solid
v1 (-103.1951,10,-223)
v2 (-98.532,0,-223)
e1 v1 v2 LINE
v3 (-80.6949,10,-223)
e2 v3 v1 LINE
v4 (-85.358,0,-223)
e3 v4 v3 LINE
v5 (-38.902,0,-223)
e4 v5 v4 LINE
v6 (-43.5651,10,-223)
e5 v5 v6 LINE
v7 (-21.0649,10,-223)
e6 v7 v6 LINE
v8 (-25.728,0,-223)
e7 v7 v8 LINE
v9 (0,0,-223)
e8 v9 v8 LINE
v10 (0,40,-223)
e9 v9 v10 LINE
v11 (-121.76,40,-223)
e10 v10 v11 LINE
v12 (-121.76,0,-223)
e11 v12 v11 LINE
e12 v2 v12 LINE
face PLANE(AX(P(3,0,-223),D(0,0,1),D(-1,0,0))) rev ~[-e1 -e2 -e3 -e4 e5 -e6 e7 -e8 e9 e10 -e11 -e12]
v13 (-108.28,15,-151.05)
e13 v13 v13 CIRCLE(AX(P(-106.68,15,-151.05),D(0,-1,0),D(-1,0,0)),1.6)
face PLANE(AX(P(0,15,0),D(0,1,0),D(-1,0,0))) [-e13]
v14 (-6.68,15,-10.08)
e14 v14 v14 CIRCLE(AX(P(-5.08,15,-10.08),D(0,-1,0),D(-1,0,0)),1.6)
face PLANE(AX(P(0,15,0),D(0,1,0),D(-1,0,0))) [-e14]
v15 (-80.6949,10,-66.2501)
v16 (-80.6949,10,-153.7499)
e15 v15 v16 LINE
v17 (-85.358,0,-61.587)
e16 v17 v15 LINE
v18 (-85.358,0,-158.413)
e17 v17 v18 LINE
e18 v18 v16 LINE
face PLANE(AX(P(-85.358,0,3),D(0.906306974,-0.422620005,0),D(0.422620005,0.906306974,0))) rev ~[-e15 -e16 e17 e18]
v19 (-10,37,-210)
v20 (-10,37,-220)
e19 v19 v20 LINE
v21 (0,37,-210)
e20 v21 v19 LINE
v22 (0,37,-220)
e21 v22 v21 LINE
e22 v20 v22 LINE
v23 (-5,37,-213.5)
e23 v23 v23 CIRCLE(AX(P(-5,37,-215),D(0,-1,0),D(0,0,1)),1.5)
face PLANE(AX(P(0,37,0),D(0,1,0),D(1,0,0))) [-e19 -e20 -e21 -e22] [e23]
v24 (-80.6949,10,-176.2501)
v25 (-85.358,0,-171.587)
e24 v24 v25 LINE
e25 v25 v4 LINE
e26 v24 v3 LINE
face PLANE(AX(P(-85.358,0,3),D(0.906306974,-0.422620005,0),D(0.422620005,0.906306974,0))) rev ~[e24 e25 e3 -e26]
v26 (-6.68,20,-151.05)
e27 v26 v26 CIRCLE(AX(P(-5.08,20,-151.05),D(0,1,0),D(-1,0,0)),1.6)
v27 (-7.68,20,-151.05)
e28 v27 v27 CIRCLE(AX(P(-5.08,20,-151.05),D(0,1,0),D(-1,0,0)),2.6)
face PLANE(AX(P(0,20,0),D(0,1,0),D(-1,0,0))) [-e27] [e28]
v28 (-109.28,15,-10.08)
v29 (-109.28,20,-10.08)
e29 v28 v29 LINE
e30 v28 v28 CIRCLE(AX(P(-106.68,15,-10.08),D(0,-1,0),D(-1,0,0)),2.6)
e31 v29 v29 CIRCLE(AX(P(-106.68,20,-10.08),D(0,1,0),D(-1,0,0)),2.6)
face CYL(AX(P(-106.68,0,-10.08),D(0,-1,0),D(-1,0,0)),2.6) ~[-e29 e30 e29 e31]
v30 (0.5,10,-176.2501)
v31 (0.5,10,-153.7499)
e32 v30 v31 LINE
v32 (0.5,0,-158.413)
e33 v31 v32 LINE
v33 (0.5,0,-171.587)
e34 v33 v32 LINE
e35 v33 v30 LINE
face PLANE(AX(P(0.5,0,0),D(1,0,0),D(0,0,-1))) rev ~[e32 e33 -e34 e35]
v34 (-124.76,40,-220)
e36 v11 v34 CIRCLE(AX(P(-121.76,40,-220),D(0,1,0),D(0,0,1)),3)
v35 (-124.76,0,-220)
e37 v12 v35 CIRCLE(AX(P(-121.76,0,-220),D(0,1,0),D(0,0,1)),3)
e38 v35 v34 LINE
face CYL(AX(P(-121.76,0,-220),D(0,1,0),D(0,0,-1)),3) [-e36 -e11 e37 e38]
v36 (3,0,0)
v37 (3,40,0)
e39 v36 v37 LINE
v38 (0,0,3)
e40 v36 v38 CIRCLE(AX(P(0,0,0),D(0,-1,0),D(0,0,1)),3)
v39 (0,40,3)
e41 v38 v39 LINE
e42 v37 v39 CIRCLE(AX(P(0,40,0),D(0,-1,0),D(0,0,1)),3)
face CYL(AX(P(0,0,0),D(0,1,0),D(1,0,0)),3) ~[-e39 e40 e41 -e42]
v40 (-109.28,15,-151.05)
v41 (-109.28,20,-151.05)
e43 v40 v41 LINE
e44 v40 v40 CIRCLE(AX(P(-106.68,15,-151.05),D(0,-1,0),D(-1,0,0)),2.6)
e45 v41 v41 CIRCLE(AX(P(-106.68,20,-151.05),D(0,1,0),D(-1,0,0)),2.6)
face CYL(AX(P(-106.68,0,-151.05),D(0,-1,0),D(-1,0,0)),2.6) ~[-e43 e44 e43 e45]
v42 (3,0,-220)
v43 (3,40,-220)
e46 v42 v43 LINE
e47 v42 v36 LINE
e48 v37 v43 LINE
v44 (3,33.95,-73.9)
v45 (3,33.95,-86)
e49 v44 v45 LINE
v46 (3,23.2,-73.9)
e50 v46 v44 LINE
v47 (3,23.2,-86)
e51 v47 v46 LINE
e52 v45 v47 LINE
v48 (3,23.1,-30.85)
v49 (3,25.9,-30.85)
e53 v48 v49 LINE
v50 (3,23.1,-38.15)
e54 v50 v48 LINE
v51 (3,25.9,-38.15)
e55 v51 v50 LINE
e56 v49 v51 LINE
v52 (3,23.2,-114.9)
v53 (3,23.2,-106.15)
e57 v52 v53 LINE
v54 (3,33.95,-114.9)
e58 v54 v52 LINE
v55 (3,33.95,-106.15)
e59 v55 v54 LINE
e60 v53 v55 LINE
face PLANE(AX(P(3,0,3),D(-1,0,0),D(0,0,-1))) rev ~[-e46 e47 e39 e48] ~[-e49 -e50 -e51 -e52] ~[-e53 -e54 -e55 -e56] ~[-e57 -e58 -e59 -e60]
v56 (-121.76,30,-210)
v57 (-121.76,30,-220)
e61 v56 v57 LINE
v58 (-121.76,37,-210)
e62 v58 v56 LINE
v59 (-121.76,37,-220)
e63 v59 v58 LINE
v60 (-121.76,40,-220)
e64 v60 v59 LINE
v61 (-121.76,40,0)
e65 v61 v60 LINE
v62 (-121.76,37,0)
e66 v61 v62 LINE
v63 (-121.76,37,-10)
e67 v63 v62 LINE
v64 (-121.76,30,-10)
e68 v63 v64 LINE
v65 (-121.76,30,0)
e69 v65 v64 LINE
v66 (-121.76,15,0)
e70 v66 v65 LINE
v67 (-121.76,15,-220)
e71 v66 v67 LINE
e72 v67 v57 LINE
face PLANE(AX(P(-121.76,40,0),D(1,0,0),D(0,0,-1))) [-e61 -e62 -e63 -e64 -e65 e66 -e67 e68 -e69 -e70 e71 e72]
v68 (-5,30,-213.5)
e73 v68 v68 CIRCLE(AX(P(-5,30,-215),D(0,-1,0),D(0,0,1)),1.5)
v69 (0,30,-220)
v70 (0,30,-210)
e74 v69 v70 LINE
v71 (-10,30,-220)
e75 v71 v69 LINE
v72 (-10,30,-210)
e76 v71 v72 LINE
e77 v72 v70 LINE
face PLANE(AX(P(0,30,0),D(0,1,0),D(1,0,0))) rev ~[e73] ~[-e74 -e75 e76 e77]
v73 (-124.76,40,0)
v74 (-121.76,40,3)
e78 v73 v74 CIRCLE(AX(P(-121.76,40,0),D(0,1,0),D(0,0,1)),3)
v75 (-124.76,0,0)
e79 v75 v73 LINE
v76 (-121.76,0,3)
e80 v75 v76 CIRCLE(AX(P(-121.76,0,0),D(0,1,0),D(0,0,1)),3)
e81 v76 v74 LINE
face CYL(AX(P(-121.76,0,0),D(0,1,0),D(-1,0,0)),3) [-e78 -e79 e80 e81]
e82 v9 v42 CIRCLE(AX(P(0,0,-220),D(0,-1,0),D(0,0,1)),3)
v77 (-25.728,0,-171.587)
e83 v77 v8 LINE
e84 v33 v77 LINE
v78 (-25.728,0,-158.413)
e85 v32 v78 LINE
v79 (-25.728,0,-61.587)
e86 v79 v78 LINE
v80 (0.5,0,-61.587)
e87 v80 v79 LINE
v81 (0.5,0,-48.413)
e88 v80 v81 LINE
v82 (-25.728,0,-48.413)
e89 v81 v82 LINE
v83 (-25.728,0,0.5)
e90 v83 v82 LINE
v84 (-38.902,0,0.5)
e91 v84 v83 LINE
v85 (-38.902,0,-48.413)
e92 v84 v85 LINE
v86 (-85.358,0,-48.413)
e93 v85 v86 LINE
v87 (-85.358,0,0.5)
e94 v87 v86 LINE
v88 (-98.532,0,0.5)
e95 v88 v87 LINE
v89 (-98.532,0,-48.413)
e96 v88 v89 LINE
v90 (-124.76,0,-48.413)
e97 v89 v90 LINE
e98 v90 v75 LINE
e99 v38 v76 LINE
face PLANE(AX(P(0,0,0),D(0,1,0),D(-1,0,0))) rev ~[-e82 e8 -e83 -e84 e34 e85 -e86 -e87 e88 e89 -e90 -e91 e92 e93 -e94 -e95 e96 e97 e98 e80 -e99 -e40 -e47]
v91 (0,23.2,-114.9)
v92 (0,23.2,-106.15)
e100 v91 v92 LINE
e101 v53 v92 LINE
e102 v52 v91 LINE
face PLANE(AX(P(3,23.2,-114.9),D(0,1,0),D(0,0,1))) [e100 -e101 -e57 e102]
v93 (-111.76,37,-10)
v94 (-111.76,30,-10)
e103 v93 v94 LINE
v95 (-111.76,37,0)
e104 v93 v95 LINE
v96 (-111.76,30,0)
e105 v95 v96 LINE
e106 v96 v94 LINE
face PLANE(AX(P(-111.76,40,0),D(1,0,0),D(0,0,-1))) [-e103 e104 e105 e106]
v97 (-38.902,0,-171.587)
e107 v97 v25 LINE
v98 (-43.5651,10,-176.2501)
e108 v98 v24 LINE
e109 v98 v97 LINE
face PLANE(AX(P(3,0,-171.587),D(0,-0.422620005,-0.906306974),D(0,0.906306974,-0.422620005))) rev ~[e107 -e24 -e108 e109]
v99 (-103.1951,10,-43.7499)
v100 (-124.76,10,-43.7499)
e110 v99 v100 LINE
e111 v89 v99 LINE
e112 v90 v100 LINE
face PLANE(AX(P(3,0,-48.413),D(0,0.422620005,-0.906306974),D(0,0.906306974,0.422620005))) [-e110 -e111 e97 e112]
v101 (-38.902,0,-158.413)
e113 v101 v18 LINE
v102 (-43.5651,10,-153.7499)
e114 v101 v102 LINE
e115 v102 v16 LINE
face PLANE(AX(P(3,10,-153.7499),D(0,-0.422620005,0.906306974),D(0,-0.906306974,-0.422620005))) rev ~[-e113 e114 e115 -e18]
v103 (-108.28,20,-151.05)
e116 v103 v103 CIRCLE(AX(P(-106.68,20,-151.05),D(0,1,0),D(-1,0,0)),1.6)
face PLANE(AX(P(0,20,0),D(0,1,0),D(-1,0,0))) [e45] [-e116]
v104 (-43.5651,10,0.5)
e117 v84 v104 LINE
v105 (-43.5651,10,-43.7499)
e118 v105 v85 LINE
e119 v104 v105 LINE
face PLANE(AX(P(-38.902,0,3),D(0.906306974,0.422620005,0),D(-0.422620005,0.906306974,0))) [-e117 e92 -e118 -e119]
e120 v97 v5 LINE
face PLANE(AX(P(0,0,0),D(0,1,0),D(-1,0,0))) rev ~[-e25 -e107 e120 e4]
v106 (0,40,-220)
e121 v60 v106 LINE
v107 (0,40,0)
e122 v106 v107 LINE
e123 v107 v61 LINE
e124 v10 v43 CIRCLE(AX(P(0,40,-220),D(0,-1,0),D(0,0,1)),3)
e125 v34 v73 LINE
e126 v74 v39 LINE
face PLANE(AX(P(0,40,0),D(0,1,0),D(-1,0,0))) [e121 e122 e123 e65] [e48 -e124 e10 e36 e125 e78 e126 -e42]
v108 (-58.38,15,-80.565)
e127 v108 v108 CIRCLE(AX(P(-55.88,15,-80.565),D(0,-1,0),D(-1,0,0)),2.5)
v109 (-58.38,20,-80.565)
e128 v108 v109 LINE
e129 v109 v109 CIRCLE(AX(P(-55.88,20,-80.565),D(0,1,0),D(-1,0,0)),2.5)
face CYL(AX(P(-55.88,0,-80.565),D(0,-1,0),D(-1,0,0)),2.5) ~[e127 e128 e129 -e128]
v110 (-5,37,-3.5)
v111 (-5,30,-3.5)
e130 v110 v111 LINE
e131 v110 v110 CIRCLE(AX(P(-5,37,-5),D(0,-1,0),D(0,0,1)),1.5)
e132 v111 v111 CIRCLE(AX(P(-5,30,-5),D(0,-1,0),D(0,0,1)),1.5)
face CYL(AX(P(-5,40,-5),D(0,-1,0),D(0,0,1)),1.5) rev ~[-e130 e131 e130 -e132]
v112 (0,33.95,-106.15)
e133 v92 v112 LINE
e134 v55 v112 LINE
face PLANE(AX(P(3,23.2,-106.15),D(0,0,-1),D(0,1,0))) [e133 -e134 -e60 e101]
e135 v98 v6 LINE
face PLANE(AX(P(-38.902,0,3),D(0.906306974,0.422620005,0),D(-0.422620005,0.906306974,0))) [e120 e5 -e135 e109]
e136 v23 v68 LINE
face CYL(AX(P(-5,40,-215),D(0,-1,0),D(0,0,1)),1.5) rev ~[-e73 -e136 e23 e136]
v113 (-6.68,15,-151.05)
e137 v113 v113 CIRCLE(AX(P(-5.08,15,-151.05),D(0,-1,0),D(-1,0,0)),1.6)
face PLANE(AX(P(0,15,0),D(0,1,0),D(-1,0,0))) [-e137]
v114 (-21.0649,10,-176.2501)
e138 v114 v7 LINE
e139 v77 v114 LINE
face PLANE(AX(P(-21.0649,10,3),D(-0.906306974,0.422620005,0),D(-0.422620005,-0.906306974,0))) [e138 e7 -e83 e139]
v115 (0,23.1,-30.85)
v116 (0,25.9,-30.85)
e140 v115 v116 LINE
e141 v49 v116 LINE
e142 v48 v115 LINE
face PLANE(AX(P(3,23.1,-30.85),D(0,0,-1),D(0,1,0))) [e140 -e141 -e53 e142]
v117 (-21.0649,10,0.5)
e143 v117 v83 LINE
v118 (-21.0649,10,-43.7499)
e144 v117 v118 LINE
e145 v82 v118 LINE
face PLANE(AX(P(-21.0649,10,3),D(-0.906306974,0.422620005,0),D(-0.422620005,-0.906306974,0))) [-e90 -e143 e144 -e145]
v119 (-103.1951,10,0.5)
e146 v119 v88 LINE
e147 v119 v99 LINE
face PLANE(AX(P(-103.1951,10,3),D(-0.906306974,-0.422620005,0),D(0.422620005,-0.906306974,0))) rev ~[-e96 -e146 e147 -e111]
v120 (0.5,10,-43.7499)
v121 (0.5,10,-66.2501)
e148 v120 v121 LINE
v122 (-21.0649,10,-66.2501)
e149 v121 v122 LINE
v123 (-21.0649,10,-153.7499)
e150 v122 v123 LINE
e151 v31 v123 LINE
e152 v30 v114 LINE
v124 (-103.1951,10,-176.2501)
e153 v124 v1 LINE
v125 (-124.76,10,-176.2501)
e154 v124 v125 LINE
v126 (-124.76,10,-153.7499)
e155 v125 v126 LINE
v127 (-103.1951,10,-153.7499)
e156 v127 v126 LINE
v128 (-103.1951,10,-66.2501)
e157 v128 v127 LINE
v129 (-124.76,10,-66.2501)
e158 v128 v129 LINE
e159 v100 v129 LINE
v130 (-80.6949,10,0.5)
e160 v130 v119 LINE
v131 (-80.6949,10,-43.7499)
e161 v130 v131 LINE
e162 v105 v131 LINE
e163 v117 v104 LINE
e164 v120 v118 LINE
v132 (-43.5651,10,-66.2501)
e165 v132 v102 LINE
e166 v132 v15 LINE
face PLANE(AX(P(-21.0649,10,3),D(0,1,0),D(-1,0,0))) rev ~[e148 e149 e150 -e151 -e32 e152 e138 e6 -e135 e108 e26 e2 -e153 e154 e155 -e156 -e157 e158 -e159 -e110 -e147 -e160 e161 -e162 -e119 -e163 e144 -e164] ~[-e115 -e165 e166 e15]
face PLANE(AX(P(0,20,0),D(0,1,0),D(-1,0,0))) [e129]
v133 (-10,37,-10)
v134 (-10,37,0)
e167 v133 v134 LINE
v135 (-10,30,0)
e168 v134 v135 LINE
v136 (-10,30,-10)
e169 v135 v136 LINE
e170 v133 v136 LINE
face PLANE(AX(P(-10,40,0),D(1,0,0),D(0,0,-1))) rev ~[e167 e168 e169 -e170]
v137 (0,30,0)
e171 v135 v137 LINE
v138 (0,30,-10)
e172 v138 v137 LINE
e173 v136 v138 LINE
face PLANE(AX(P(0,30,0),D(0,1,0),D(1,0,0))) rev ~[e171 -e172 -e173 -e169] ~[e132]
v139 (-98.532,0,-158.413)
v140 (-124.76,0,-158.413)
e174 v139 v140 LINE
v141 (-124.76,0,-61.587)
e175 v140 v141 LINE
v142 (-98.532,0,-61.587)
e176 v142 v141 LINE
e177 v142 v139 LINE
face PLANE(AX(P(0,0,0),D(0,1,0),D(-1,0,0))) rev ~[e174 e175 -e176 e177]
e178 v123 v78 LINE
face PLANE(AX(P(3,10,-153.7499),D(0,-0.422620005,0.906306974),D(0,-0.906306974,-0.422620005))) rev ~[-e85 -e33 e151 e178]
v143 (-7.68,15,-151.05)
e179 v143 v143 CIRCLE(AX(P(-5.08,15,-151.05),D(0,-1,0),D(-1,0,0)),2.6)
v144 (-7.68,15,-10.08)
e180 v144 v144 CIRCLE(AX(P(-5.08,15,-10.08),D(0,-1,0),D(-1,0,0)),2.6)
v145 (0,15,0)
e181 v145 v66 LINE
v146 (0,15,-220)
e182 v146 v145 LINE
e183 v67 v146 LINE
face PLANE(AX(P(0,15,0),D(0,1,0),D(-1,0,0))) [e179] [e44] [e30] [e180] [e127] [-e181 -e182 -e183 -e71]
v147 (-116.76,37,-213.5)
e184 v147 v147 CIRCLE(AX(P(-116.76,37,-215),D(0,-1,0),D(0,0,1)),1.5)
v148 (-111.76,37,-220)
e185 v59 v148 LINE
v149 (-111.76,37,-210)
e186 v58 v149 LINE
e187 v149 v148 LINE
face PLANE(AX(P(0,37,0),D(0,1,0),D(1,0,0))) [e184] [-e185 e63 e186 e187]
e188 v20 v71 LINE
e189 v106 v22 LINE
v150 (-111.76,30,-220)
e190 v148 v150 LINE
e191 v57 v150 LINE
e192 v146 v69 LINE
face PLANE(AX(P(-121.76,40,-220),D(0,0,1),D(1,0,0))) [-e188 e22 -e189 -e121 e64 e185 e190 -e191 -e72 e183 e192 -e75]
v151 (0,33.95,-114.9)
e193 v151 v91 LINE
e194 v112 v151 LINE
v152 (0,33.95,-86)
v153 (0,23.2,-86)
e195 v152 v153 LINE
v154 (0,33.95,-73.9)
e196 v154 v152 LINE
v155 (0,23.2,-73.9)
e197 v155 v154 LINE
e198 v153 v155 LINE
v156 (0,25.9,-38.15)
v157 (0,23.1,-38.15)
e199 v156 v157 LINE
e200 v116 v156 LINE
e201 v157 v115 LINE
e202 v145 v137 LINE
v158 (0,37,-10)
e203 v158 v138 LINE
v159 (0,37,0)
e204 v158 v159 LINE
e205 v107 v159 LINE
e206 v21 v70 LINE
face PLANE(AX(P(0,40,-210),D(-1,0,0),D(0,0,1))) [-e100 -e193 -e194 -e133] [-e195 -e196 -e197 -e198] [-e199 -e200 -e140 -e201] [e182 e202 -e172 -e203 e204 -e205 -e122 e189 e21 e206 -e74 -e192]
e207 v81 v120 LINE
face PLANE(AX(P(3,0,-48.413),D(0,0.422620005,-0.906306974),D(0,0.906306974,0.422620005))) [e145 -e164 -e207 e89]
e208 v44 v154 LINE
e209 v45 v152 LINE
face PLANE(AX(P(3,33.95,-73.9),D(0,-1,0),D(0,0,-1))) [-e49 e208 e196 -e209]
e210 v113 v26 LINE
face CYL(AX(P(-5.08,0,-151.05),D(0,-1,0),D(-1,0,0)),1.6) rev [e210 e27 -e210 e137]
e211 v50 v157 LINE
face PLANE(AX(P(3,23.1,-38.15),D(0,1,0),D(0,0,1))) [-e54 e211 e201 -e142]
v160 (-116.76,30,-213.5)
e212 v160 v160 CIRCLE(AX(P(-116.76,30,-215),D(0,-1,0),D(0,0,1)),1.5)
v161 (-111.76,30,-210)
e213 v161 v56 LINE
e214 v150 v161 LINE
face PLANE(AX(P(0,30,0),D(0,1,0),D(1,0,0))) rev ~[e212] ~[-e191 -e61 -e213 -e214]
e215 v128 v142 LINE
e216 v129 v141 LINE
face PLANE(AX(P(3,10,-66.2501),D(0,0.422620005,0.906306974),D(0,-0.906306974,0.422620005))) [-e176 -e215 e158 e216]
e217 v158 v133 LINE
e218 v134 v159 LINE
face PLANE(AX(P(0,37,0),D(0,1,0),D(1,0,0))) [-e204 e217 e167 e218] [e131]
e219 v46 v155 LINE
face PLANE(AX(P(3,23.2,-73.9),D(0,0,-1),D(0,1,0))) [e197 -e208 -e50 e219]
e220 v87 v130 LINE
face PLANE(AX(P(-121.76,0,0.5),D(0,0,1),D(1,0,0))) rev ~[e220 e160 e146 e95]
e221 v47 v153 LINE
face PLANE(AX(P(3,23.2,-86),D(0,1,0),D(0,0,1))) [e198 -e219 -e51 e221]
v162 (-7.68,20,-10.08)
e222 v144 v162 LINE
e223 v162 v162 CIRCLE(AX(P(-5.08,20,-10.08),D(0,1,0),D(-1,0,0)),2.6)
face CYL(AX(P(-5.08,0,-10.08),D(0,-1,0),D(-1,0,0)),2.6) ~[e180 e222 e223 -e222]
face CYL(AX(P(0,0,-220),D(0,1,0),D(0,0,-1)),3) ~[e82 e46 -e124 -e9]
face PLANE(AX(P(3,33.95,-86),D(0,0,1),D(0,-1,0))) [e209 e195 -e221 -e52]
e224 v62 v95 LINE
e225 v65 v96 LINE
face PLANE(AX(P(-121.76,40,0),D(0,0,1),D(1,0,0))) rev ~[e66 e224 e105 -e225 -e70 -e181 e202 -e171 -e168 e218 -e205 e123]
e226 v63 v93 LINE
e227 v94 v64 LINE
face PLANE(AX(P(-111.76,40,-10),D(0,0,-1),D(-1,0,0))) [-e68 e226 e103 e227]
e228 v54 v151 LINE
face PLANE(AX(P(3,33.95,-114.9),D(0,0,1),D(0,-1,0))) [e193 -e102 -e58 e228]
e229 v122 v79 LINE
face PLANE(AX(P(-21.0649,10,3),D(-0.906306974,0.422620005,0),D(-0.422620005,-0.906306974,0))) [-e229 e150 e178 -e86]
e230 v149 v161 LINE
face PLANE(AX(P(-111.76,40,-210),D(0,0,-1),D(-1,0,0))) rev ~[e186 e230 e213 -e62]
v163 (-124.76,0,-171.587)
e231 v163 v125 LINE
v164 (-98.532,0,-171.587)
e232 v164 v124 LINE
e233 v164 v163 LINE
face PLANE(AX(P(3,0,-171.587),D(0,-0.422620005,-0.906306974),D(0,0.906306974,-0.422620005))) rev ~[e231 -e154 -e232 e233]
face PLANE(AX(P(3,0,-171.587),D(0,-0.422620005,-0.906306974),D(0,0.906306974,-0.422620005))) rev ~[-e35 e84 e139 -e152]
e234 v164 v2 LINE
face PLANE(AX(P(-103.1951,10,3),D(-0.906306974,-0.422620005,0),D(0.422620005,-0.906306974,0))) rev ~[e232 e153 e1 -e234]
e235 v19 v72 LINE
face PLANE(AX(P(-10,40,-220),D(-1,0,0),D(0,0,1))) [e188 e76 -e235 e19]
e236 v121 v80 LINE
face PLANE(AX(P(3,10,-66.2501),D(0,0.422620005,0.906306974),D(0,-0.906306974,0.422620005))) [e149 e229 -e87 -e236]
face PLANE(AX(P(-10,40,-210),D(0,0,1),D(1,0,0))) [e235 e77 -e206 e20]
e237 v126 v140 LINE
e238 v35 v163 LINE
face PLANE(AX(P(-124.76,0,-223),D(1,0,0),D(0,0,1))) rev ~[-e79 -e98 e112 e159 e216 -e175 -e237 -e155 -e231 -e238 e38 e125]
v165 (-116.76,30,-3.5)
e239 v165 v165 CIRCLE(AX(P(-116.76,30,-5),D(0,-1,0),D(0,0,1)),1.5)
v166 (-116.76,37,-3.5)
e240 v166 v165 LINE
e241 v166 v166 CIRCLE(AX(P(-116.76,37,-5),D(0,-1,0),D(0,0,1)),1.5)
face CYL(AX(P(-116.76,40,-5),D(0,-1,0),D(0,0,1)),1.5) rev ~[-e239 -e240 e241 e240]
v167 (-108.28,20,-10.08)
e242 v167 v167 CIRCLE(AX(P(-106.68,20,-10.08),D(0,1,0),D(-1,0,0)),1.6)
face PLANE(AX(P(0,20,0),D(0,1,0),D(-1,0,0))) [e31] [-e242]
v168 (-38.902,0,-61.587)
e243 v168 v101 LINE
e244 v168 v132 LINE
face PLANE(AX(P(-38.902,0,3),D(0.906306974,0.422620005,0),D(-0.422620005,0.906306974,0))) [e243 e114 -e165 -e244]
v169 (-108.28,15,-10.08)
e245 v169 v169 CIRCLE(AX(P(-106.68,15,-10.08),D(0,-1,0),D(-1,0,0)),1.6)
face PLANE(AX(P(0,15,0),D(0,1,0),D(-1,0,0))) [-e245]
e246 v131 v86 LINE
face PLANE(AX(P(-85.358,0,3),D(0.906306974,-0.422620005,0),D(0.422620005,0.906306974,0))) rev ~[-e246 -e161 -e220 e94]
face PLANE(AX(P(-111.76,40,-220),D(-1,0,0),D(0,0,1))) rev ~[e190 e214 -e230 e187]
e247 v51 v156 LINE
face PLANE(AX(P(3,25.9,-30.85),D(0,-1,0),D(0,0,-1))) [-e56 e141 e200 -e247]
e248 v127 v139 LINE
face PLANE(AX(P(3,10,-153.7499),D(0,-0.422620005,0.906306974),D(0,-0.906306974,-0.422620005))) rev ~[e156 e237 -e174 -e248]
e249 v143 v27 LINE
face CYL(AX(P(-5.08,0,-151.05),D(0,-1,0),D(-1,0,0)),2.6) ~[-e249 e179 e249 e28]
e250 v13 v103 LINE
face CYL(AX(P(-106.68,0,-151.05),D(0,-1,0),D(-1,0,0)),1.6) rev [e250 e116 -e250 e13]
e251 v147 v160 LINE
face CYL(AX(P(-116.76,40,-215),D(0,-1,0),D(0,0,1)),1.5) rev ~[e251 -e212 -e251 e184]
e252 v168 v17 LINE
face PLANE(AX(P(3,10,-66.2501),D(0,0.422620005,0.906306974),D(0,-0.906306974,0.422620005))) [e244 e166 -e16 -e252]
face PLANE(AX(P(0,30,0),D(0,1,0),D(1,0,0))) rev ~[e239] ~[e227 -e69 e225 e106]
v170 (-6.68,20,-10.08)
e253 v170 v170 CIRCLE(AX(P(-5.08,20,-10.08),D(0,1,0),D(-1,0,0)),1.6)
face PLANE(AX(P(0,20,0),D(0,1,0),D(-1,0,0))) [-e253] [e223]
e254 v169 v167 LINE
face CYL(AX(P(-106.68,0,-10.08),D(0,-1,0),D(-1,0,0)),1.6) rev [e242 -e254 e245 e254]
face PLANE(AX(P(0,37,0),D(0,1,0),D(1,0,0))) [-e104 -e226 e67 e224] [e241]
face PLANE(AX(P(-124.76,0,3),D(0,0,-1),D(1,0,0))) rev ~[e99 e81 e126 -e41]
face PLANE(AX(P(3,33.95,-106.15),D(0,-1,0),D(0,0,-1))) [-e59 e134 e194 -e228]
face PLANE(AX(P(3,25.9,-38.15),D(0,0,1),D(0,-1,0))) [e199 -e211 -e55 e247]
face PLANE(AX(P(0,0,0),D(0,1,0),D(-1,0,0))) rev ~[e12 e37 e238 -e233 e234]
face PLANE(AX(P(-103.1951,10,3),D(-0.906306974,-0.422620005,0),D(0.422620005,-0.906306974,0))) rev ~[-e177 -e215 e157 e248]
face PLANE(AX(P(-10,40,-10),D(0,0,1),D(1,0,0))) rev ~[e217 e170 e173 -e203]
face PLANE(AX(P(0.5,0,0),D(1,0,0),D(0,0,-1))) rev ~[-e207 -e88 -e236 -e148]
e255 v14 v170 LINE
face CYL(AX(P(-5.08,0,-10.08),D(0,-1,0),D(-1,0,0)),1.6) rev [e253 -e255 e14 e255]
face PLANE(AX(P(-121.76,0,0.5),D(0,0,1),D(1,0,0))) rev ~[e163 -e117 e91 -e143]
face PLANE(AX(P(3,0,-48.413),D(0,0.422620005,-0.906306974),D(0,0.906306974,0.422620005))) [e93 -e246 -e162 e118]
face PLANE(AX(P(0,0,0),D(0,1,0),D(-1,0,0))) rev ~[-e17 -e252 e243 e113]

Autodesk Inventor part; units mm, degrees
ref_plane "YZ Plane" through (0, 0, 0) normal (1, 0, 0) x (0, 1, 0)
ref_plane "XZ Plane" through (0, 0, 0) normal (0, 1, 0) x (-1, 0, 0)
ref_plane "XY Plane" through (0, 0, 0) normal (0, 0, 1) x (1, 0, 0)
sketch "Sketch1" plane through (0, 0, 0) normal (0, 1, 0) x (-1, 0, 0)
  line L0 (0, 0) -> (121.76, 0)
  line L1 (121.76, 0) -> (121.76, -220)
  line L2 (121.76, -220) -> (0, -220)
  line L3 (0, -220) -> (0, 0)
  line L4 (124.76, -223) -> (124.76, 3)
  line L5 (124.76, 3) -> (-3, 3)
  line L6 (-3, 3) -> (-3, -223)
  line L7 (-3, -223) -> (124.76, -223)
  circle A0 centre (5.08, -10.08) radius 1.6
  circle A1 centre (5.08, -10.08) radius 2.6
  circle A2 centre (55.88, -80.565) radius 2.5
  circle A3 centre (5.08, -151.05) radius 1.6
  circle A4 centre (5.08, -151.05) radius 2.6
  circle A5 centre (106.68, -10.08) radius 1.6
  circle A6 centre (106.68, -10.08) radius 2.6
  circle A7 centre (106.68, -151.05) radius 1.6
  circle A8 centre (106.68, -151.05) radius 2.6
  dimension "d0" = 121.76
  dimension "d1" = 220
  dimension "d2" = 3
  dimension "d22" = 3.2
  dimension "d23" = 1
  dimension "d24" = 5.08
  dimension "d25" = 10.08
  dimension "d26" = 5
  dimension "d35" = 3.2
  dimension "d36" = 1
  dimension "d37" = 140.97
  dimension "d38" = 0
  dimension "d39" = 3.2
  dimension "d40" = 1
  dimension "d41" = 101.6
  dimension "d42" = 0
  dimension "d43" = 3.2
  dimension "d44" = 1
  dimension "d45" = 0
  dimension "d46" = 0
  dimension "d47" = 50.8
  dimension "d48" = 70.485
extrude "Extrusion1" add sketch "Sketch1" along normal blind 15 contours L0 L1 L2 L3 | A0 | A1 | A2 | A3 | A4 | A5 | A6 | A7 | A8
extrude "Extrusion2" add sketch "Sketch1" along normal blind 40 contours L7 L6 L5 L4
fillet "Fillet1" radius 3 4 edges at (3, 20, -223) (-124.76, 20, -223) (-124.76, 20, 3) (3, 20, 3)
sketch "Sketch2" plane through (3, 0, 0) normal (1, 0, 0) x (0, 0, -1)
  line L0 (220, 15) -> (0, 15) construction
  line L1 (0, 15) -> (220, 15)
  line L2 (73.9, 33.95) -> (86, 33.95)
  line L3 (86, 33.95) -> (86, 23.2)
  line L4 (86, 23.2) -> (73.9, 23.2)
  line L5 (73.9, 23.2) -> (73.9, 33.95)
  line L6 (106.15, 33.95) -> (114.9, 33.95)
  line L7 (114.9, 33.95) -> (114.9, 23.2)
  line L8 (114.9, 23.2) -> (106.15, 23.2)
  line L9 (106.15, 23.2) -> (106.15, 33.95)
  line L10 (0, 0) -> (0, 40) projected
  line L11 (30.85, 25.9) -> (38.15, 25.9)
  line L12 (38.15, 25.9) -> (38.15, 23.1)
  line L13 (38.15, 23.1) -> (30.85, 23.1)
  line L14 (30.85, 23.1) -> (30.85, 25.9)
  line L15 (110, 15) -> (110, 0) construction
  line L16 (220, 0) -> (0, 0) projected
  line L17 (48.413, 0) -> (43.7499, 10)
  line L18 (43.7499, 10) -> (66.2501, 10)
  line L19 (66.2501, 10) -> (61.587, 0)
  line L20 (48.413, 0) -> (61.587, 0)
  line L21 (55, 0) -> (55, 15) construction
  line L22 (171.587, 0) -> (176.2501, 10)
  line L23 (176.2501, 10) -> (153.7499, 10)
  line L24 (153.7499, 10) -> (158.413, 0)
  line L25 (171.587, 0) -> (158.413, 0)
  point P0 (110, 7.5)
  point P1 (55, 0)
  point P2 (158.413, 0)
  dimension "d9" = 12.1
  dimension "d10" = 10.75
  dimension "d11" = 8.2
  dimension "d12" = 8.75
  dimension "d13" = 10.75
  dimension "d14" = 8.2
  dimension "d15" = 20.15
  dimension "d19" = 7.3
  dimension "d20" = 2.8
  dimension "d21" = 8.1
  dimension "d49" = 35.75
  dimension "d50" = 30.85
  dimension "d72" = 13.174
  dimension "d73" = 65
  dimension "d74" = 65
  dimension "d75" = 10
  dimension "d76" = 55
extrude "Extrusion3" cut sketch "Sketch2" against normal up to surface (3 mm away) contours L2 L3 L4 L5 | L6 L7 L8 L9 | L11 L12 L13 L14
extrude "Extrusion4" add sketch "Sketch1" along normal blind 20 contours A1 | A2 | A4 | A6 | A8
sketch "Sketch3" plane through (0, 40, 0) normal (0, 1, 0) x (1, 0, 0)
  line L0 (-121.76, 0) -> (-121.76, 220) projected
  line L1 (-121.76, 110) -> (0, 110) construction
  line L2 (0, 220) -> (0, 0) projected
  line L3 (-121.76, 0) -> (0, 0) projected
  line L4 (-60.88, 0) -> (-60.88, 220) construction
  line L5 (-121.76, 220) -> (0, 220) projected
  line L6 (0, 0) -> (-10, 0)
  line L7 (-10, 0) -> (-10, 10)
  line L8 (-10, 10) -> (0, 10)
  line L9 (0, 10) -> (0, 0)
  line L10 (-121.76, 0) -> (-111.76, 0)
  line L11 (-111.76, 0) -> (-111.76, 10)
  line L12 (-111.76, 10) -> (-121.76, 10)
  line L13 (-121.76, 10) -> (-121.76, 0)
  line L14 (0, 220) -> (-10, 220)
  line L15 (-10, 220) -> (-10, 210)
  line L16 (-10, 210) -> (0, 210)
  line L17 (0, 210) -> (0, 220)
  line L18 (-121.76, 220) -> (-111.76, 220)
  line L19 (-111.76, 220) -> (-111.76, 210)
  line L20 (-111.76, 210) -> (-121.76, 210)
  line L21 (-121.76, 210) -> (-121.76, 220)
  line L22 (-121.76, 0) -> (0, 0)
  line L23 (0, 0) -> (0, 220)
  line L24 (0, 220) -> (-121.76, 220)
  line L25 (-121.76, 220) -> (-121.76, 0)
  point P0 (0, 210)
  dimension "d51" = 10
  dimension "d52" = 10
extrude "Extrusion6" add sketch "Sketch3" against normal blind 10 contours L0 L12 L11 L3 | L0 L5 L19 L20 | L7 L8 L2 L3 | L5 L2 L16 L15
sketch "Sketch4" plane through (0, 40, 0) normal (0, 1, 0) x (1, 0, 0)
  line L0 (-10, 10) -> (-10, 0) projected
  line L1 (0, 10) -> (-10, 10) projected
  line L2 (-10, 220) -> (-10, 210) projected
  line L3 (-10, 210) -> (0, 210) projected
  line L4 (-121.76, 210) -> (-111.76, 210) projected
  line L5 (-111.76, 210) -> (-111.76, 220) projected
  line L6 (-111.76, 0) -> (-111.76, 10) projected
  line L7 (-111.76, 10) -> (-121.76, 10) projected
  point P0 (0, 0)
  point P1 (-5, 5)
  point P2 (-116.76, 5)
  point P3 (-116.76, 215)
  point P4 (-5, 215)
  dimension "d55" = 5
  dimension "d63" = 5
  dimension "d64" = 5
  dimension "d65" = 5
  dimension "d66" = 5
  dimension "d67" = 5
  dimension "d68" = 5
  dimension "d69" = 5
hole "Hole1" at (-5, 40, -5) at (-5, 40, -215) at (-116.76, 40, -215) at (-116.76, 40, -5) direction (0, -1, 0) diameter 3 depth 10
extrude "Extrusion7" cut sketch "Sketch3" against normal blind 3
extrude "Extrusion8" cut sketch "Sketch2" against normal up to surface (127.76 mm away) contours L16 L17 L18 L19 | L16 L24 L23 L22
extrude "Extrusion9" add sketch "Sketch2" against normal blind 2.5 contours L16 L17 L18 L19 | L16 L24 L23 L22
sketch "Sketch5" plane through (-121.76, 0, 3) normal (0, 0, 1) x (1, 0, 0)
  line L0 (122.26, 10) -> (-3, 10) projected
  line L1 (59.63, 10) -> (59.63, 0) construction
  line L2 (-3, 0) -> (122.26, 0) projected
  line L3 (29.815, 10) -> (29.815, 0) construction
  line L4 (23.228, 0) -> (36.402, 0)
  line L5 (36.402, 0) -> (41.0651, 10)
  line L6 (41.0651, 10) -> (18.5649, 10)
  line L7 (18.5649, 10) -> (23.228, 0)
  line L8 (89.445, 10) -> (89.445, 0) construction
  line L9 (96.032, 0) -> (82.858, 0)
  line L10 (82.858, 0) -> (78.1949, 10)
  line L11 (78.1949, 10) -> (100.6951, 10)
  line L12 (100.6951, 10) -> (96.032, 0)
  point P0 (121.76, 0)
  point P1 (59.63, 5)
  point P2 (18.5649, 10)
  point P3 (41.0651, 10)
  dimension "d81" = 29.815
  dimension "d82" = 13.174
  dimension "d83" = 65
  dimension "d84" = 65
  dimension "d85" = 10
extrude "Extrusion10" cut sketch "Sketch5" against normal up to surface (226 mm away) contours L12 L2 L10 L0 | L5 L2 L7 L0
extrude "Extrusion11" add sketch "Sketch5" against normal blind 2.5 contours L12 L2 L10 L0 | L5 L2 L7 L0
properties part number "Base"
